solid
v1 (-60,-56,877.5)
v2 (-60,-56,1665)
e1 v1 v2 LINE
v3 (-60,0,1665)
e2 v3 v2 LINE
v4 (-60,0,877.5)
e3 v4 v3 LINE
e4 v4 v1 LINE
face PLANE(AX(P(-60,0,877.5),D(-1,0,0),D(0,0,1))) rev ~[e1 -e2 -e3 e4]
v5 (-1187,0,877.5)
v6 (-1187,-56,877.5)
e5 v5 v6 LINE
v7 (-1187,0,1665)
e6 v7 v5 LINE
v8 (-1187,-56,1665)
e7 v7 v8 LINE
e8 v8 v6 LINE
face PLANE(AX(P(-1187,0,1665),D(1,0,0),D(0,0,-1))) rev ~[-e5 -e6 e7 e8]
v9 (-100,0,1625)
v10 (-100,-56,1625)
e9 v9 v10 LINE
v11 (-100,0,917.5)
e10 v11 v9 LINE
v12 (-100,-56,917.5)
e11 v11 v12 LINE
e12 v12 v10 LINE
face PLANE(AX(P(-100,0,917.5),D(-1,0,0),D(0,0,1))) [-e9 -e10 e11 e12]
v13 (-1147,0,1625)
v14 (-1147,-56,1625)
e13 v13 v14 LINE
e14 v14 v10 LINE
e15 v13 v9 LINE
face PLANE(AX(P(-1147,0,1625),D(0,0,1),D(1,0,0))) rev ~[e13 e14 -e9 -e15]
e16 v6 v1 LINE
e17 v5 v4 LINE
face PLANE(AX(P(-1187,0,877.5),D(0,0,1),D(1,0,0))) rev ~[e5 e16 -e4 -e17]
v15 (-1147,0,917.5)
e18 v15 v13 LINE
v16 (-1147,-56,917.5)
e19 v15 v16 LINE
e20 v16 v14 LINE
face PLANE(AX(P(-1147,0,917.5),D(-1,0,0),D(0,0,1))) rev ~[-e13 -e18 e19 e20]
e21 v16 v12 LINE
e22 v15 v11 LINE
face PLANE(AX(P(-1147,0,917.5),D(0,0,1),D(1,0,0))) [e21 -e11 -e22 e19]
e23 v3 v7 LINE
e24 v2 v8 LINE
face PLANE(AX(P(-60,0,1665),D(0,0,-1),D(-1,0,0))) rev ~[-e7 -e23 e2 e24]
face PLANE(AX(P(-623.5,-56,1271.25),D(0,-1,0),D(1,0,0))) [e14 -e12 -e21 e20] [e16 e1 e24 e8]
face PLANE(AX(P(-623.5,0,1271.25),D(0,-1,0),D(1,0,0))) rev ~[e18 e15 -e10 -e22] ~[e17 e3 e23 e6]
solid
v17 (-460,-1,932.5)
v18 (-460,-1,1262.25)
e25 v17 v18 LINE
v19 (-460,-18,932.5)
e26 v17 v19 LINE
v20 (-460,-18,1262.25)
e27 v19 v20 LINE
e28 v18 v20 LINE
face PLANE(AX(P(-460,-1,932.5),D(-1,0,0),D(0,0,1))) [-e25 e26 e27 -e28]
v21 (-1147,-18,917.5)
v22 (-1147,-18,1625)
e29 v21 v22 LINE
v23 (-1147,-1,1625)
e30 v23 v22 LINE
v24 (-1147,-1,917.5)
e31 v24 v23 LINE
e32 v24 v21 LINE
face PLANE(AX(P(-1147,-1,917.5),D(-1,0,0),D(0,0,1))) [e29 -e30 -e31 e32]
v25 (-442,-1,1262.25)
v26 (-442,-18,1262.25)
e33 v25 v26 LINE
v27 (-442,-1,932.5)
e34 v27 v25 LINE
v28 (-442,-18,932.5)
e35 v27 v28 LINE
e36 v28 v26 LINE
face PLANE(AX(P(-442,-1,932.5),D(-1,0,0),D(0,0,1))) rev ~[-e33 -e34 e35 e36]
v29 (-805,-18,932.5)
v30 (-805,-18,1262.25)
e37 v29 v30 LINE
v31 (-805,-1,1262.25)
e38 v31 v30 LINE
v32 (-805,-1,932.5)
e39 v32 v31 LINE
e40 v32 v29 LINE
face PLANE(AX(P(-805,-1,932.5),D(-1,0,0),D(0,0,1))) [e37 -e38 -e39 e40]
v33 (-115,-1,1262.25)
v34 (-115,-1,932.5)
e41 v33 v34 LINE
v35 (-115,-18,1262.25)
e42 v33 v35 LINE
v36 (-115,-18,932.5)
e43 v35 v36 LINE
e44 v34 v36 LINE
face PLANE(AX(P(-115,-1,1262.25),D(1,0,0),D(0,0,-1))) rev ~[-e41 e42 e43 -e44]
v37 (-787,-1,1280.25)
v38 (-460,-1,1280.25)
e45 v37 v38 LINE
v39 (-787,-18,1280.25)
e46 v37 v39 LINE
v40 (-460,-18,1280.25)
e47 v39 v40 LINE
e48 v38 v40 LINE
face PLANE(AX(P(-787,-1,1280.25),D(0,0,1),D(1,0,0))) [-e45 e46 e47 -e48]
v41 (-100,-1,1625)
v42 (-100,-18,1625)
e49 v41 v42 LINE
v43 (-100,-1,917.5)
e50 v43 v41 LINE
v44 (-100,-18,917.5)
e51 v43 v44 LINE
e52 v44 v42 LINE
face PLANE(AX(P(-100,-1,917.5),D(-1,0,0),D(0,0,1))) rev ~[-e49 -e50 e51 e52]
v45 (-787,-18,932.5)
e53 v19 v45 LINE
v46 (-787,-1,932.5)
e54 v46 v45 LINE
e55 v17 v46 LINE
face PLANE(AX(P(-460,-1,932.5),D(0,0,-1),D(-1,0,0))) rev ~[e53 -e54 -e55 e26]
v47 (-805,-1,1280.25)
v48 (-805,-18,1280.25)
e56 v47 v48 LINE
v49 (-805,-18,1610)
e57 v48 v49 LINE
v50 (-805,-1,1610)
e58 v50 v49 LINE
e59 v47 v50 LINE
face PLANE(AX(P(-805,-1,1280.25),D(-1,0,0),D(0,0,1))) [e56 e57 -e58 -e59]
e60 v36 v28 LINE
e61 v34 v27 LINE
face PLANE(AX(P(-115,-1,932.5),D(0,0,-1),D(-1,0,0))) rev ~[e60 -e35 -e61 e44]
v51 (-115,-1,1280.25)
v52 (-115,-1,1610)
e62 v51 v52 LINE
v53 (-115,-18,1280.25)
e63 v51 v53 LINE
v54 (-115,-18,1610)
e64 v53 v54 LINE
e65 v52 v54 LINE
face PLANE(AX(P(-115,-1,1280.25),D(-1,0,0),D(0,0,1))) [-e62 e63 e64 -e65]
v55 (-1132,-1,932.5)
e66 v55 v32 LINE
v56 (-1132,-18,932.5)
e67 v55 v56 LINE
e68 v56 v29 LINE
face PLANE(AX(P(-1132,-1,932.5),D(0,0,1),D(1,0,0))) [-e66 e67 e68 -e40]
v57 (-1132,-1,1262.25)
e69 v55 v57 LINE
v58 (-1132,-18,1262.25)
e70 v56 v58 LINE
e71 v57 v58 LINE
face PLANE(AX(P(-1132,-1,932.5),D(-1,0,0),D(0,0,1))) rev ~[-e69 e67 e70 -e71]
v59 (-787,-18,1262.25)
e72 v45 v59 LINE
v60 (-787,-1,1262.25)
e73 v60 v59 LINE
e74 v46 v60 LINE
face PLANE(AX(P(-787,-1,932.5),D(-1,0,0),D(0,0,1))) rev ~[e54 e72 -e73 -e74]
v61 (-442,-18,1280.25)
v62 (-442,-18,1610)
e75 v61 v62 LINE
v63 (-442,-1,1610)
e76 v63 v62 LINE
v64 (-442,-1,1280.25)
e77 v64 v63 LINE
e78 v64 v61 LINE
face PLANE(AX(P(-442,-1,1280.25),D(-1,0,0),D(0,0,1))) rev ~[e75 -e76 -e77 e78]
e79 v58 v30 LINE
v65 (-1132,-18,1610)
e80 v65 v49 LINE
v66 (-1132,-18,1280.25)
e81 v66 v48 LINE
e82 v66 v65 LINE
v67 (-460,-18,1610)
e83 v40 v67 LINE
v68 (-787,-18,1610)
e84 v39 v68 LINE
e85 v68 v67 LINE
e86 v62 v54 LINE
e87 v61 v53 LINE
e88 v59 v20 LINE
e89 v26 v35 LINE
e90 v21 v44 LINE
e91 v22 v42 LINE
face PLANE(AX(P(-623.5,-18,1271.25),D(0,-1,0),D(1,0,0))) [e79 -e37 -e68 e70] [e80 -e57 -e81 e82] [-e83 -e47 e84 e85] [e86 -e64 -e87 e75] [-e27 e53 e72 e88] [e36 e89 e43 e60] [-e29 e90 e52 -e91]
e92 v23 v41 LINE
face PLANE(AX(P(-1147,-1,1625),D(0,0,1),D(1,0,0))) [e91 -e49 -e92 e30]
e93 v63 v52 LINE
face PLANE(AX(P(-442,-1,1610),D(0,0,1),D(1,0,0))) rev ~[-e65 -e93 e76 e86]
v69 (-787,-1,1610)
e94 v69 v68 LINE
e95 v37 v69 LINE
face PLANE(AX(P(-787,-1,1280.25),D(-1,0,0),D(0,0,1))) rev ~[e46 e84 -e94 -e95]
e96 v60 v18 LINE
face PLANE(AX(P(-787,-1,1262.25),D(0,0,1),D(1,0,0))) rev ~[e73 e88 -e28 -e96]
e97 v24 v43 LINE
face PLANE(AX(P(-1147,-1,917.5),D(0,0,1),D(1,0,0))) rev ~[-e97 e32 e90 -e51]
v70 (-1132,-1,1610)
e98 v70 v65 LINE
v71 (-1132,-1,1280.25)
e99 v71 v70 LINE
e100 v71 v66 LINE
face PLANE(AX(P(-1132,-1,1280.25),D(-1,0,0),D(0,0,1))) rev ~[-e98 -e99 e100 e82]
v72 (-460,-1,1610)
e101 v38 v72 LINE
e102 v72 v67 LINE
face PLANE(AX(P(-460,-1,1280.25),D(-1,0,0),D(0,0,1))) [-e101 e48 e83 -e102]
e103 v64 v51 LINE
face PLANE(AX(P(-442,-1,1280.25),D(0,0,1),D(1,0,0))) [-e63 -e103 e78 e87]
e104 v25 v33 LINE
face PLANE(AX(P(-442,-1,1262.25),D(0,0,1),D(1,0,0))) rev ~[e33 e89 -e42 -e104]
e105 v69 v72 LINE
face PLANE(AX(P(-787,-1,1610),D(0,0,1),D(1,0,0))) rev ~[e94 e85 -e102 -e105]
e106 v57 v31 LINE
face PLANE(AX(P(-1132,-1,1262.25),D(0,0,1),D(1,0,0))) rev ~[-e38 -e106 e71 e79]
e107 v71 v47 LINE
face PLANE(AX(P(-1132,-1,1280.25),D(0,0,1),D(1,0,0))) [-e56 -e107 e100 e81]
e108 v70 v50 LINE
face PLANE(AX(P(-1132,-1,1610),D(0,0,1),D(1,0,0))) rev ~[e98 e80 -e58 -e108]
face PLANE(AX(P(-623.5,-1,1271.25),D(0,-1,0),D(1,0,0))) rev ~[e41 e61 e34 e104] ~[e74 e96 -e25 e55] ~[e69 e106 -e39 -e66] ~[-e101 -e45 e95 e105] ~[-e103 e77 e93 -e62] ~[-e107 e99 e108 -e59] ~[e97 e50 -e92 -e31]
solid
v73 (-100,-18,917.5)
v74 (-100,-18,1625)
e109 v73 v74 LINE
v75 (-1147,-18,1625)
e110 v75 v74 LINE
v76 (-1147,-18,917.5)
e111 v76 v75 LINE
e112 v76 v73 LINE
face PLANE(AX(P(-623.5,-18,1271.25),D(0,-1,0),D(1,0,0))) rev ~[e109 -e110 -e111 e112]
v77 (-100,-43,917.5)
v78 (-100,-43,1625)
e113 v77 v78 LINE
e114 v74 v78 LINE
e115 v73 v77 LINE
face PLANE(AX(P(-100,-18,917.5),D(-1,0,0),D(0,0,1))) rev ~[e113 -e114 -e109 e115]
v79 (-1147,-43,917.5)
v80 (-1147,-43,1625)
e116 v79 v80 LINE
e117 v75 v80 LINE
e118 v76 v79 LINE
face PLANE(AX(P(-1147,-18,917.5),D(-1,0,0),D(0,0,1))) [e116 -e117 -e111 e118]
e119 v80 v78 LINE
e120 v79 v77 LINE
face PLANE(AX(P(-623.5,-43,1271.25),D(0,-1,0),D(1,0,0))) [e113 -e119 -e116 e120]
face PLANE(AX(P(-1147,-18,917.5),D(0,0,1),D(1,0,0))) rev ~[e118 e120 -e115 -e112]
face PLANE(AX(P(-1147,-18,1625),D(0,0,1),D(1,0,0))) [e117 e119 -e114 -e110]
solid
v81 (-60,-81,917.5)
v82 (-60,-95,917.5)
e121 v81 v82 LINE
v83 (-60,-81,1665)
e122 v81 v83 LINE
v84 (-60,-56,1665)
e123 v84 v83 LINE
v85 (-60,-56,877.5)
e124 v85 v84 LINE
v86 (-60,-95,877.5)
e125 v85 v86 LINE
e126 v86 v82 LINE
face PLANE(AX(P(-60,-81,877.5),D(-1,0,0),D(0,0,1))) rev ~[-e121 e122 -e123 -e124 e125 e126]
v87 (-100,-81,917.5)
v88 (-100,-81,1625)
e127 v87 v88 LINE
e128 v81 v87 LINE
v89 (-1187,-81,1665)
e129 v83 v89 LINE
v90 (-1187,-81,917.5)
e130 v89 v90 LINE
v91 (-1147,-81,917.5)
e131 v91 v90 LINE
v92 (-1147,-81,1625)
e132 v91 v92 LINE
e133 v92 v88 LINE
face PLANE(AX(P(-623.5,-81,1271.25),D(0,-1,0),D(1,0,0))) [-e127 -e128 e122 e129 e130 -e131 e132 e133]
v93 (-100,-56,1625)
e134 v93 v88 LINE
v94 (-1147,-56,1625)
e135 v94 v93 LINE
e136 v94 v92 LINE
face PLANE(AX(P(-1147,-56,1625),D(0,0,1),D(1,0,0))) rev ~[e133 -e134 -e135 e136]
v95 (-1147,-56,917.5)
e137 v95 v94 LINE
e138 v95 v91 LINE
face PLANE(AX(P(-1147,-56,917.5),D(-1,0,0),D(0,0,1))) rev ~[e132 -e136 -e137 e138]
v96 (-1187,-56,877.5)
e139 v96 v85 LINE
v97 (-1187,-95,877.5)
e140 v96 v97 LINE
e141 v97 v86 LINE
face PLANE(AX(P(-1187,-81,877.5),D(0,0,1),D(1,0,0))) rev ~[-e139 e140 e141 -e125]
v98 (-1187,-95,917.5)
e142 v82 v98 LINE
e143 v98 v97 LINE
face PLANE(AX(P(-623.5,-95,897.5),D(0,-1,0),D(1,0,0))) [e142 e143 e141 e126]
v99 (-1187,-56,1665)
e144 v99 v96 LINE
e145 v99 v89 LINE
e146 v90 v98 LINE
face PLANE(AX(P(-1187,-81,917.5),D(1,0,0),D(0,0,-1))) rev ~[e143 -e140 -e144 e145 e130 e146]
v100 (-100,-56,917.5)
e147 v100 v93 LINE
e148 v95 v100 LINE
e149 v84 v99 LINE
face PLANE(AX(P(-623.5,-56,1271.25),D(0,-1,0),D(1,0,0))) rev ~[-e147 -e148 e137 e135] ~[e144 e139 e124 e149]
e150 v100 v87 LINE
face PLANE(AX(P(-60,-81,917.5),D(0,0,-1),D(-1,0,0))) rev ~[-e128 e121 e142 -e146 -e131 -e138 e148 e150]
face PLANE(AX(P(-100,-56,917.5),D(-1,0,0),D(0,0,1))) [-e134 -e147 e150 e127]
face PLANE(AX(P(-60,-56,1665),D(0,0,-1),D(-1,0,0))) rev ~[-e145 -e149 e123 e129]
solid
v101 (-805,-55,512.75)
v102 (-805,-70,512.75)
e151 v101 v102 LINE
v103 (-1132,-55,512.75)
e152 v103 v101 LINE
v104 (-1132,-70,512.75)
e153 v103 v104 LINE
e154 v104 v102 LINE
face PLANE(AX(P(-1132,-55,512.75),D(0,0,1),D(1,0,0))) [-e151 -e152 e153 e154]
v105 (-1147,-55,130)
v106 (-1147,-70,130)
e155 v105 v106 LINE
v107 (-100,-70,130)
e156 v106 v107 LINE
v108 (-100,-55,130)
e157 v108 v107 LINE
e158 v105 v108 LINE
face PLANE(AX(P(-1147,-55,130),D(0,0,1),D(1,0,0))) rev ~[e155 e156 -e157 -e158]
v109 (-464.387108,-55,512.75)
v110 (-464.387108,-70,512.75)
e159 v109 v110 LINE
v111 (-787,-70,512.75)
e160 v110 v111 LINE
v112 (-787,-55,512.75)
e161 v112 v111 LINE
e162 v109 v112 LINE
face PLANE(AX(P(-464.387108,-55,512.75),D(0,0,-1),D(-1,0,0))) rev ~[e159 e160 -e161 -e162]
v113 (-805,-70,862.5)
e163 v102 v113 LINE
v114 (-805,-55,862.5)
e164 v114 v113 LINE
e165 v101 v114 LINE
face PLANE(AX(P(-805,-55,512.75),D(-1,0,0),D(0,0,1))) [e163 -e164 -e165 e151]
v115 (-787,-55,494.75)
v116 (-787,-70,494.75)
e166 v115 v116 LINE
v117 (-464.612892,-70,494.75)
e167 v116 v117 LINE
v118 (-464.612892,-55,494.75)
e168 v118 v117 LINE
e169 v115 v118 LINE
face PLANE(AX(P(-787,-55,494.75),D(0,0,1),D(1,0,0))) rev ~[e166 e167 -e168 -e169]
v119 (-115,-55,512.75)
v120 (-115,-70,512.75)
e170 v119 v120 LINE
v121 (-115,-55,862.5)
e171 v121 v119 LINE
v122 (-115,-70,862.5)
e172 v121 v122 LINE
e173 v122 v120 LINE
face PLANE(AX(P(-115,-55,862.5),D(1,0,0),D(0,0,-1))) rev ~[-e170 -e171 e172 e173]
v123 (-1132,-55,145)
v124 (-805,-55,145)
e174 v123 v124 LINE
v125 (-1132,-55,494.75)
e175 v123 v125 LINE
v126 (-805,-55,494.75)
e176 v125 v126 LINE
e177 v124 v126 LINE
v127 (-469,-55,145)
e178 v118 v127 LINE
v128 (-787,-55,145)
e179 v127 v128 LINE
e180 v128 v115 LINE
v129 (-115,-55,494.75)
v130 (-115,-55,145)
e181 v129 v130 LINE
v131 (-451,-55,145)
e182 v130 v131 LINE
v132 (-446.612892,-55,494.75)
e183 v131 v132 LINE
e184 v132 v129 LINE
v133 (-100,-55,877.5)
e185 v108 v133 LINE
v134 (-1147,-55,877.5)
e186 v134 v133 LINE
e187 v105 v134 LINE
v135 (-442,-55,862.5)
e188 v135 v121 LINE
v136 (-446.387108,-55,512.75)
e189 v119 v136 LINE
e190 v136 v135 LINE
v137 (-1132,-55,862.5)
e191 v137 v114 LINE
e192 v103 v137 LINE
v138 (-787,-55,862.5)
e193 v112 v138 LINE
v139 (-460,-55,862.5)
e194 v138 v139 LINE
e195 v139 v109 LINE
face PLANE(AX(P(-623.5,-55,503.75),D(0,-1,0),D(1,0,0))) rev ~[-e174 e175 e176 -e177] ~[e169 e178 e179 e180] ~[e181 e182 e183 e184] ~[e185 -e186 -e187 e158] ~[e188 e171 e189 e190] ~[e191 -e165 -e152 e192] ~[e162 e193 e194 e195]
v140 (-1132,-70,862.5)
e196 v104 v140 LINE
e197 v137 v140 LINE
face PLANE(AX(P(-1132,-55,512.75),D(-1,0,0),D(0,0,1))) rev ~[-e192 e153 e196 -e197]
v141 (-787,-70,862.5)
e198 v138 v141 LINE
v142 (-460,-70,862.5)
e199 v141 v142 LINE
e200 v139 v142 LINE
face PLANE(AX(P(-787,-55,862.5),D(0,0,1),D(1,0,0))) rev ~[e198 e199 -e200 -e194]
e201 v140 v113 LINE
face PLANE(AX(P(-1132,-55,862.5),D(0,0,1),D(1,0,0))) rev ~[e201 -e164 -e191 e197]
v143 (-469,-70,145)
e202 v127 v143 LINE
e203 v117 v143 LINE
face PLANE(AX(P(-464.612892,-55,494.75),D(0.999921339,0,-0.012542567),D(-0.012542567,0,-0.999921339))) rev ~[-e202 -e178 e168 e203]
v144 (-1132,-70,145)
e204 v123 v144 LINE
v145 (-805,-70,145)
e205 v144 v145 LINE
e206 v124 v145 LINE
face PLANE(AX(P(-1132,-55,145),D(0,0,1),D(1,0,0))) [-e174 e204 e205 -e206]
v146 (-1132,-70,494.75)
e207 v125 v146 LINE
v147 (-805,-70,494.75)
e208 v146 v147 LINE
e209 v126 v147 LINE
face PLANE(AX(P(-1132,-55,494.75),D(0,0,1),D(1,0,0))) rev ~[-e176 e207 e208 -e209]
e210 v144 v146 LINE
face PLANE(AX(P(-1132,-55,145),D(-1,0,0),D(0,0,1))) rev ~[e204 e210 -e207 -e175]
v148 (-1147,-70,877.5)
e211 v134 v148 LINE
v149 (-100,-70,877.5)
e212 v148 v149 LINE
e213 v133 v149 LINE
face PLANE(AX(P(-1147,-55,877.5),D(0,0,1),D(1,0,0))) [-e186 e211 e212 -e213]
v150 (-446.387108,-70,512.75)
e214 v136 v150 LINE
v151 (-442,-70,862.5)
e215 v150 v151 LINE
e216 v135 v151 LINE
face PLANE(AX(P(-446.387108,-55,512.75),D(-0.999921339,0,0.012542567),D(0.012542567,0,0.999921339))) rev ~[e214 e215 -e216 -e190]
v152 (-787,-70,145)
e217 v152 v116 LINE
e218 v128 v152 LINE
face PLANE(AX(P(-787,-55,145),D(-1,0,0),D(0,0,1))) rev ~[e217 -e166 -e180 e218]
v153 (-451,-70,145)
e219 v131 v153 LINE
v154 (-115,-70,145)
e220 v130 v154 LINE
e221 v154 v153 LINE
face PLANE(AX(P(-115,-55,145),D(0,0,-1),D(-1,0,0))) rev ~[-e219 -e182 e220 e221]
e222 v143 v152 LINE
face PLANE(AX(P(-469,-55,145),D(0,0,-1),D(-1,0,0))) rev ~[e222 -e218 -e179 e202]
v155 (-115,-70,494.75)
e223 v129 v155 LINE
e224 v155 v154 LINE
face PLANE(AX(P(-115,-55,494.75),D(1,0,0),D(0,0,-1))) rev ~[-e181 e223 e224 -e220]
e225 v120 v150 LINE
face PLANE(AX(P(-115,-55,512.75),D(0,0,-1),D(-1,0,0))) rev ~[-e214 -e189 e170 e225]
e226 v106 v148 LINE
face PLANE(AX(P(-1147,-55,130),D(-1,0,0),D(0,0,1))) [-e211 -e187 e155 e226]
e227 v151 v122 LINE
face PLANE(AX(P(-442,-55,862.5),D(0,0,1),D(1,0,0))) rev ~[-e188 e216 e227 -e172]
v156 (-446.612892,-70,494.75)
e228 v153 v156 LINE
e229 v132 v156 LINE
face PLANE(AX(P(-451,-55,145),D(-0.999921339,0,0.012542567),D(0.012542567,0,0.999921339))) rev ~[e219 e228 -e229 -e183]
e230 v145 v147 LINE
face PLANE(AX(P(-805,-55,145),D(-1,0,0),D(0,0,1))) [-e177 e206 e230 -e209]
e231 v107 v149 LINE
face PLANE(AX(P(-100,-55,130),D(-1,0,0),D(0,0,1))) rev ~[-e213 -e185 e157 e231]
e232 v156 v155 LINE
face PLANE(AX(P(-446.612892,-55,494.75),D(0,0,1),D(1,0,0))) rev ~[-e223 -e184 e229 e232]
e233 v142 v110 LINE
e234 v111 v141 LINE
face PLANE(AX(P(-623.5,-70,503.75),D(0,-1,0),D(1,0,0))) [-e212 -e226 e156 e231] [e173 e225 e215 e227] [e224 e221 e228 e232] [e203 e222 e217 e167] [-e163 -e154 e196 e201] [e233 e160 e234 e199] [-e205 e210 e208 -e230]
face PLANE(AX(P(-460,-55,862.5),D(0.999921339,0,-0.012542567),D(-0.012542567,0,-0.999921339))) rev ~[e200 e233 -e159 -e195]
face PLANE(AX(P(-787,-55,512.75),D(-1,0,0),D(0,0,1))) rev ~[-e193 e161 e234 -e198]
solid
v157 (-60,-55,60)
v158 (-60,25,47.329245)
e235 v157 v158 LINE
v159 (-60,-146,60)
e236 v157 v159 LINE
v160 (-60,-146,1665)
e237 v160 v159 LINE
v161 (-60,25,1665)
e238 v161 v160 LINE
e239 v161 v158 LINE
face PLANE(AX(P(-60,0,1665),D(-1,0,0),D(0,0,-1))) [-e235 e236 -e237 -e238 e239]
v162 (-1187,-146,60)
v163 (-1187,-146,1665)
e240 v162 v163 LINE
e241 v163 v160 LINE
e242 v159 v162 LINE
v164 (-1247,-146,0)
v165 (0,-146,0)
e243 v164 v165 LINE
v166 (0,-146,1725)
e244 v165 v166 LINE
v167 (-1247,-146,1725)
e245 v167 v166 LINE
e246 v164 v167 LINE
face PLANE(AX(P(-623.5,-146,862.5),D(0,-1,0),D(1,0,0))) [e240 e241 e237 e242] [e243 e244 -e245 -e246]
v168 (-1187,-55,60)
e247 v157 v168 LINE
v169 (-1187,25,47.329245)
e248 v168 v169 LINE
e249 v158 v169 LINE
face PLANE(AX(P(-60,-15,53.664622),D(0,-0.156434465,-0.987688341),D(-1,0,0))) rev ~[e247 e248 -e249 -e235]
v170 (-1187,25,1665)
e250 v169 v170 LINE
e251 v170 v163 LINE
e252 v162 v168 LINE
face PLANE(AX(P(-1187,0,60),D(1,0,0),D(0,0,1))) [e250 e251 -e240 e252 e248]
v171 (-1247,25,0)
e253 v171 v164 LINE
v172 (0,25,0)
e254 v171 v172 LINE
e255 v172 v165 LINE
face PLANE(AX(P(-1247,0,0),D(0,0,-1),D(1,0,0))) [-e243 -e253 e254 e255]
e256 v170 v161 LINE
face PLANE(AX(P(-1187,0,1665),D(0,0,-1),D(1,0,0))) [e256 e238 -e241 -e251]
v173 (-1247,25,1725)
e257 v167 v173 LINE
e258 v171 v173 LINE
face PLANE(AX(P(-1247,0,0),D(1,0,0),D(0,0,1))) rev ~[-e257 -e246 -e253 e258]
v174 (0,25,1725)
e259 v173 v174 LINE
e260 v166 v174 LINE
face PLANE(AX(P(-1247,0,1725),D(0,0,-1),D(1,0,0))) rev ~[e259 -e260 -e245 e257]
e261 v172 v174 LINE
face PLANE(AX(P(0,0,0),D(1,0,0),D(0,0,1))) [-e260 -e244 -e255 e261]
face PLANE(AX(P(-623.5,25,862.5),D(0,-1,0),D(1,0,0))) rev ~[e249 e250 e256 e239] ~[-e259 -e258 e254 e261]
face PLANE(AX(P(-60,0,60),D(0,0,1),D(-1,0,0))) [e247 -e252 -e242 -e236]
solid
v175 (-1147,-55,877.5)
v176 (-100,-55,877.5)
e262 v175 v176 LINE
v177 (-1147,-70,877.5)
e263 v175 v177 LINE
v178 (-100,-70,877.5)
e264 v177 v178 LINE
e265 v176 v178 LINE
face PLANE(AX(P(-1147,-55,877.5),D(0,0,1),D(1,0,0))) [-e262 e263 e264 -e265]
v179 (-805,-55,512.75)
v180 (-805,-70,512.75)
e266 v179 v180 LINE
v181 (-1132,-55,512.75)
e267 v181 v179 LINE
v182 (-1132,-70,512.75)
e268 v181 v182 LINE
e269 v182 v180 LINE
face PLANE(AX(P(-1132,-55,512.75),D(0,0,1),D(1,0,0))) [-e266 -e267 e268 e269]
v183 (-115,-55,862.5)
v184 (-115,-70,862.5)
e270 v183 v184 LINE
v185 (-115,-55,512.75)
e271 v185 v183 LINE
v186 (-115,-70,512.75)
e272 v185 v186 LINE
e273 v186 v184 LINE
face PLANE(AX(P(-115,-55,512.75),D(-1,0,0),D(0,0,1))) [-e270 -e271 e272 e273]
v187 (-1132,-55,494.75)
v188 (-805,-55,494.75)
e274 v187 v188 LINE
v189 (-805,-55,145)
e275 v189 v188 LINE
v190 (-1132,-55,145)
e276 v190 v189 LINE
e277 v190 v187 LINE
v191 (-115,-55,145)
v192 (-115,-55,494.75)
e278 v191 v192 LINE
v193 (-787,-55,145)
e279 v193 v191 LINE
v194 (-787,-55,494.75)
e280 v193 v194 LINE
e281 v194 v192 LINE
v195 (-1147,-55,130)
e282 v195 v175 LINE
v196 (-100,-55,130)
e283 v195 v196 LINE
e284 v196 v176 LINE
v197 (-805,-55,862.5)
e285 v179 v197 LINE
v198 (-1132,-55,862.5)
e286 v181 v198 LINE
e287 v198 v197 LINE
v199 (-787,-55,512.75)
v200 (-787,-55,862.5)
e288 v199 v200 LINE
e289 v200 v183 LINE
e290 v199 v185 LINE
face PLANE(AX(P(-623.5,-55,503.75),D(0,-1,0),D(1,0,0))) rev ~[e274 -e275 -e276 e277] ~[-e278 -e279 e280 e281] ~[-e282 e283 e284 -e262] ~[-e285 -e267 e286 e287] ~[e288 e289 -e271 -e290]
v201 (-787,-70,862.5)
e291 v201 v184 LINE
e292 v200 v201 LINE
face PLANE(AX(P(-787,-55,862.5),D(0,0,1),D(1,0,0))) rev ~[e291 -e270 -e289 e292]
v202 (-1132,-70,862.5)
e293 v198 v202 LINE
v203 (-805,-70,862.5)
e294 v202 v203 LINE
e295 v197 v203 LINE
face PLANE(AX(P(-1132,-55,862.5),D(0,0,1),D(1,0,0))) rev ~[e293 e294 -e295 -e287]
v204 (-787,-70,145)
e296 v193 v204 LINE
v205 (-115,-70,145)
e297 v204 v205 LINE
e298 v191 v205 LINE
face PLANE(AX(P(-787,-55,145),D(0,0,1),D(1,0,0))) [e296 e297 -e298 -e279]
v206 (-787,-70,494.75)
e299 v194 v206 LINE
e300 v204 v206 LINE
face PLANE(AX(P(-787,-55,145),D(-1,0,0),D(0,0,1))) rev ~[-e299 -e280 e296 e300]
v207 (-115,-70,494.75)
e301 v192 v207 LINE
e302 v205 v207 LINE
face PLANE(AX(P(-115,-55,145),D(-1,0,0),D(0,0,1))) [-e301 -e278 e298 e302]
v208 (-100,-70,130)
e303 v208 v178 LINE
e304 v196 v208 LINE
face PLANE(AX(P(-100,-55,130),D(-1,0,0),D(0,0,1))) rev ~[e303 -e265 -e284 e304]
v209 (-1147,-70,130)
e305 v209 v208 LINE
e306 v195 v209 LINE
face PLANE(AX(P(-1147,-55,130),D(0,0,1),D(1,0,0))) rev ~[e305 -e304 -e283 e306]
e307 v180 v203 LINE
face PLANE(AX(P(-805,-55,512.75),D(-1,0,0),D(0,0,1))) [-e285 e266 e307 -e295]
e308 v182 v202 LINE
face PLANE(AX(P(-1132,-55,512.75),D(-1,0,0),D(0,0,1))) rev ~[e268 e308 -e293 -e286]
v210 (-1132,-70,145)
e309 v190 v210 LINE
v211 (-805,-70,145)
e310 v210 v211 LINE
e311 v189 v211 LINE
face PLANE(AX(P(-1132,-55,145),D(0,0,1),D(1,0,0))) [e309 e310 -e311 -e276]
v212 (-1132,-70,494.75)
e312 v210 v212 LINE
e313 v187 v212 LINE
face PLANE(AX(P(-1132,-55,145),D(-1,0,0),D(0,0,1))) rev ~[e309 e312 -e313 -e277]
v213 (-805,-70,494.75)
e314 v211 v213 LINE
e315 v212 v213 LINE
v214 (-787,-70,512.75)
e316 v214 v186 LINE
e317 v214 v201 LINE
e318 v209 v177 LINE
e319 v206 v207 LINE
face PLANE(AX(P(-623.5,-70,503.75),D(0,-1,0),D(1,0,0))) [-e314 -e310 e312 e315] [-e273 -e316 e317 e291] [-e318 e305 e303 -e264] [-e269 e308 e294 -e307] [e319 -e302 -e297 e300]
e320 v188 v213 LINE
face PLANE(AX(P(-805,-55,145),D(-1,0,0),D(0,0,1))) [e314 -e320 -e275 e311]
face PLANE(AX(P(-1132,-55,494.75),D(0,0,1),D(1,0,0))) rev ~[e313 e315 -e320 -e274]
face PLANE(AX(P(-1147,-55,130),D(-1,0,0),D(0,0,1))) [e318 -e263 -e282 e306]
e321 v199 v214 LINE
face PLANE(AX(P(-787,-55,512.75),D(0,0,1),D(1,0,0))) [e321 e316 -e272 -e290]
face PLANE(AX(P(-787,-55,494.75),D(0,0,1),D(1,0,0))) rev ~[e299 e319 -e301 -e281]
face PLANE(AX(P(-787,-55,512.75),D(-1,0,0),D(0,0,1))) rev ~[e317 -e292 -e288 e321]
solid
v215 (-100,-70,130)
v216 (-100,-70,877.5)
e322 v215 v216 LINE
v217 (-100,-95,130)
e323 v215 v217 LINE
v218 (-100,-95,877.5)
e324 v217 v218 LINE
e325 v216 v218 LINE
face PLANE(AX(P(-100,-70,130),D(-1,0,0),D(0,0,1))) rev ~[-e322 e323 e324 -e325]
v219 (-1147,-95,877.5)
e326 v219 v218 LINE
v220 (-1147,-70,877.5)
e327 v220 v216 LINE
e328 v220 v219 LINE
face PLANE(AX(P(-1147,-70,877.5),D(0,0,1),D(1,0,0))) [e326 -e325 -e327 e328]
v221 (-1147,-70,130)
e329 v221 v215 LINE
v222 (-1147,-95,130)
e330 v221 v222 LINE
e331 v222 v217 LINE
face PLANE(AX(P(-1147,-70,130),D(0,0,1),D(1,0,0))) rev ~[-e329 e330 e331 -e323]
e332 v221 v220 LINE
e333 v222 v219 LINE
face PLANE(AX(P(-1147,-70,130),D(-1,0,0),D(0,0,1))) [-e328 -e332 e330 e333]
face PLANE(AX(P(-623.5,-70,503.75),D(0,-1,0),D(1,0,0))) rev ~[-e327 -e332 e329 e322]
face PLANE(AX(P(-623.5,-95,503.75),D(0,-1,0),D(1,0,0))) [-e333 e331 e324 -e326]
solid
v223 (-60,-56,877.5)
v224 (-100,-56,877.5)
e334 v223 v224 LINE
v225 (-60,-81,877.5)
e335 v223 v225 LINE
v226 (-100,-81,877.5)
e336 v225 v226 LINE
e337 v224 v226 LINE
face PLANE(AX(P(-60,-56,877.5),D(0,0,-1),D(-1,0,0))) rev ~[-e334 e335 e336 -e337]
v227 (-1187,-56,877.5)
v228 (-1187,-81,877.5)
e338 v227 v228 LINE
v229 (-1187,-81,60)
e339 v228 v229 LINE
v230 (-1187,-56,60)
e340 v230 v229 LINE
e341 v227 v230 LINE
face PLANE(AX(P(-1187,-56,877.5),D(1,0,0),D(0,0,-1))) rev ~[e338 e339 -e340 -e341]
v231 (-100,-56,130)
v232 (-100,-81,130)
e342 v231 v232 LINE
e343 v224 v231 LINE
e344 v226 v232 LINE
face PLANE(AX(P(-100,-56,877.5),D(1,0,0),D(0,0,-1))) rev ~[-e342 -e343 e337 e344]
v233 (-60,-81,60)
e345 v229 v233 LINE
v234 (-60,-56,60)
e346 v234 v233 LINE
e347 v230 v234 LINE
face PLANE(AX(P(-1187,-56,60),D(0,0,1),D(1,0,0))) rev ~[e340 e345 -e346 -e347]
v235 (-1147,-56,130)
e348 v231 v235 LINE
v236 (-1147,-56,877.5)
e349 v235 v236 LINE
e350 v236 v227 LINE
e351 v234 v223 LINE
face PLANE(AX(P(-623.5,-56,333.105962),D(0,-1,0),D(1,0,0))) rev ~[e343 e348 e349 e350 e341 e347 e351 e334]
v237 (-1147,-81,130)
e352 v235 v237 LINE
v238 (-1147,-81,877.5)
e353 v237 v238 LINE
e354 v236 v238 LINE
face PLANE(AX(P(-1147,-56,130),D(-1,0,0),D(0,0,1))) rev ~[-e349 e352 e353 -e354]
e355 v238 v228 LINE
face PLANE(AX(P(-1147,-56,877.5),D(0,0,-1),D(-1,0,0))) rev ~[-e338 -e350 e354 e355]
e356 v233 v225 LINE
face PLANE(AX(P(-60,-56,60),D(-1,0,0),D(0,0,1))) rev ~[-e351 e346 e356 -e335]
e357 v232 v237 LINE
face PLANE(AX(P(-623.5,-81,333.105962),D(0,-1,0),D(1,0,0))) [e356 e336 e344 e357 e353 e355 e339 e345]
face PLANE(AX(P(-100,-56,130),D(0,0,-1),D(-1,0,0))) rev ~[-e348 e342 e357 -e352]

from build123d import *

# Parameters (mm, degrees)
F0_W          = 1247
F0_H          = 1725
F1_DEPTH      = 146
F1_DEPTH_BACK = 25
F0_W_2        = 1047
F0_H_2        = 707.5
F2_DEPTH      = 56
F3_START      = 56
F3_DEPTH      = 25
F4_START      = 1
F0_W_3        = 327
F0_H_3        = 329.75
F0_W_4        = 18
F4_DEPTH      = 17
F6_START      = 55
F5_W          = 1047
F5_H          = 747.5
F5_W_2        = 327
F5_H_2        = 349.75
F5_W_3        = 672
F6_DEPTH      = 15
F0_H_4        = 747.5
F0_H_5        = 349.75
F7_SIZE2      = 12.670755226
F7_SIZE       = 80
F8_W          = 1047
F8_H          = 747.5
F8_W_2        = 327
F8_H_2        = 349.75
F8_W_3        = 672
F9_DEPTH      = 25
F10_DEPTH     = 25
F12_DEPTH     = 14
F13_W         = 1047
F13_H         = 707.5
F14_DEPTH     = 25


with BuildPart() as f1:
    # F0 (on Front) → F1 (new body, two sides)
    with BuildSketch(Plane.XZ) as f1_sk:
        with Locations((-623.5, 862.5)):
            Rectangle(F0_W, F0_H)
        Polygon((-1187, 1665), (-60, 1665), (-60, 877.5), (-60, 60), (-1187, 60), (-1187, 877.5), align=None, mode=Mode.SUBTRACT)
    extrude(amount=F1_DEPTH)
    extrude(f1_sk.sketch, amount=-F1_DEPTH_BACK)

    # F7
    f7_edges = [f1.edges().sort_by_distance(p)[0] for p in [
        (-623.5, 25, 60),
    ]]
    f7_side = f1.faces().sort_by_distance((-623.5, -60.5, 60))[0]
    chamfer(f7_edges, length=F7_SIZE, length2=F7_SIZE2, reference=f7_side)


with BuildPart() as f2:
    # F0 (on Front) → F2 (new body)
    with BuildSketch(Plane.XZ):
        Polygon((-60, 877.5), (-60, 1665), (-1187, 1665), (-1187, 877.5), (-1147, 877.5), (-100, 877.5), align=None)
        with Locations((-623.5, 1271.25)):
            Rectangle(F0_W_2, F0_H_2, mode=Mode.SUBTRACT)
    extrude(amount=F2_DEPTH)


with BuildPart() as f3:
    # F0 (on Front) → F3 (new body)
    with BuildSketch(Plane.XZ.offset(F3_START)):
        Polygon((-60, 60), (-60, 877.5), (-100, 877.5), (-100, 130), (-1147, 130), (-1147, 877.5), (-1187, 877.5), (-1187, 60), align=None)
    extrude(amount=F3_DEPTH)


with BuildPart() as f4:
    # F0 (on Front) → F4 (new body)
    with BuildSketch(Plane.XZ.offset(F4_START)):
        with Locations((-623.5, 1271.25)):
            Rectangle(F0_W_2, F0_H_2)
        with Locations((-968.5, 1097.375)):
            Rectangle(F0_W_3, F0_H_3, mode=Mode.SUBTRACT)
        with Locations((-968.5, 1445.125)):
            Rectangle(F0_W_3, F0_H_3, mode=Mode.SUBTRACT)
        Polygon((-442, 1262.25), (-115, 1262.25), (-115, 932.5), (-442, 932.5), (-460, 932.5), (-787, 932.5), (-787, 1262.25), (-460, 1262.25), align=None, mode=Mode.SUBTRACT)
        with Locations((-623.5, 1445.125)):
            Rectangle(F0_W_3, F0_H_3, mode=Mode.SUBTRACT)
        with Locations((-278.5, 1445.125)):
            Rectangle(F0_W_3, F0_H_3, mode=Mode.SUBTRACT)
        with Locations((-451, 1097.375)):
            Rectangle(F0_W_4, F0_H_3)
    extrude(amount=F4_DEPTH)


with BuildPart() as f6:
    # F5 (on face) → F6 (new body)
    with BuildSketch(Plane.XZ.offset(F6_START)):
        with Locations((-623.5, 503.75)):
            Rectangle(F5_W, F5_H)
        with Locations((-968.5, 319.875)):
            Rectangle(F5_W_2, F5_H_2, mode=Mode.SUBTRACT)
        with Locations((-451, 319.875)):
            Rectangle(F5_W_3, F5_H_2, mode=Mode.SUBTRACT)
        with Locations((-968.5, 687.625)):
            Rectangle(F5_W_2, F5_H_2, mode=Mode.SUBTRACT)
        with Locations((-451, 687.625)):
            Rectangle(F5_W_3, F5_H_2, mode=Mode.SUBTRACT)
    extrude(amount=F6_DEPTH)


with BuildPart() as f6b:
    # F0 (on Front) → F6, piece 2 (new body)
    with BuildSketch(Plane.XZ.offset(F6_START)):
        with Locations((-623.5, 503.75)):
            Rectangle(F0_W_2, F0_H_4)
        with Locations((-968.5, 319.875)):
            Rectangle(F0_W_3, F0_H_5, mode=Mode.SUBTRACT)
        Polygon((-787, 145), (-787, 494.75), (-464.6128919861, 494.75), (-469, 145), align=None, mode=Mode.SUBTRACT)
        with Locations((-968.5, 687.625)):
            Rectangle(F0_W_3, F0_H_5, mode=Mode.SUBTRACT)
        Polygon((-446.6128919861, 494.75), (-115, 494.75), (-115, 145), (-451, 145), align=None, mode=Mode.SUBTRACT)
        Polygon((-787, 512.75), (-787, 862.5), (-460, 862.5), (-464.3871080139, 512.75), align=None, mode=Mode.SUBTRACT)
        Polygon((-442, 862.5), (-115, 862.5), (-115, 512.75), (-446.3871080139, 512.75), align=None, mode=Mode.SUBTRACT)
    extrude(amount=F6_DEPTH)


with BuildPart() as f9:
    # F8 (on face) → F9 (new body)
    with BuildSketch(Plane.XZ.offset(70)):
        with Locations((-623.5, 503.75)):
            Rectangle(F8_W, F8_H)
        with Locations((-968.5, 319.875)):
            Rectangle(F8_W_2, F8_H_2, mode=Mode.SUBTRACT)
        with Locations((-451, 319.875)):
            Rectangle(F8_W_3, F8_H_2, mode=Mode.SUBTRACT)
        with Locations((-968.5, 687.625)):
            Rectangle(F8_W_2, F8_H_2, mode=Mode.SUBTRACT)
        with Locations((-451, 687.625)):
            Rectangle(F8_W_3, F8_H_2, mode=Mode.SUBTRACT)
        with Locations((-968.5, 687.625)):
            Rectangle(F8_W_2, F8_H_2)
        with Locations((-451, 687.625)):
            Rectangle(F8_W_3, F8_H_2)
        with Locations((-968.5, 319.875)):
            Rectangle(F8_W_2, F8_H_2)
        with Locations((-451, 319.875)):
            Rectangle(F8_W_3, F8_H_2)
    extrude(amount=F9_DEPTH)


with BuildPart() as f10:
    # F10 (new): a face of the model
    f10_faces = [f2.part.faces().sort_by_distance(p)[0] for p in [
        (-73.7487644899, -56, 1271.25),
    ]]
    extrude(f10_faces, amount=F10_DEPTH)

    # F11 (on face) → F12 (join, through all)
    with BuildSketch(Plane.XZ.offset(81)):
        Polygon((-100, 917.5), (-1147, 917.5), (-1187, 917.5), (-1187, 877.5), (-60, 877.5), (-60, 917.5), align=None)
    extrude(amount=F12_DEPTH)


with BuildPart() as f14:
    # F13 (on face) → F14 (new body)
    with BuildSketch(Plane.XZ.offset(18)):
        with Locations((-623.5, 1271.25)):
            Rectangle(F13_W, F13_H)
    extrude(amount=F14_DEPTH)


solid = Compound([f1.part, f2.part, f3.part, f4.part, f6.part, f6b.part, f9.part, f10.part, f14.part])
